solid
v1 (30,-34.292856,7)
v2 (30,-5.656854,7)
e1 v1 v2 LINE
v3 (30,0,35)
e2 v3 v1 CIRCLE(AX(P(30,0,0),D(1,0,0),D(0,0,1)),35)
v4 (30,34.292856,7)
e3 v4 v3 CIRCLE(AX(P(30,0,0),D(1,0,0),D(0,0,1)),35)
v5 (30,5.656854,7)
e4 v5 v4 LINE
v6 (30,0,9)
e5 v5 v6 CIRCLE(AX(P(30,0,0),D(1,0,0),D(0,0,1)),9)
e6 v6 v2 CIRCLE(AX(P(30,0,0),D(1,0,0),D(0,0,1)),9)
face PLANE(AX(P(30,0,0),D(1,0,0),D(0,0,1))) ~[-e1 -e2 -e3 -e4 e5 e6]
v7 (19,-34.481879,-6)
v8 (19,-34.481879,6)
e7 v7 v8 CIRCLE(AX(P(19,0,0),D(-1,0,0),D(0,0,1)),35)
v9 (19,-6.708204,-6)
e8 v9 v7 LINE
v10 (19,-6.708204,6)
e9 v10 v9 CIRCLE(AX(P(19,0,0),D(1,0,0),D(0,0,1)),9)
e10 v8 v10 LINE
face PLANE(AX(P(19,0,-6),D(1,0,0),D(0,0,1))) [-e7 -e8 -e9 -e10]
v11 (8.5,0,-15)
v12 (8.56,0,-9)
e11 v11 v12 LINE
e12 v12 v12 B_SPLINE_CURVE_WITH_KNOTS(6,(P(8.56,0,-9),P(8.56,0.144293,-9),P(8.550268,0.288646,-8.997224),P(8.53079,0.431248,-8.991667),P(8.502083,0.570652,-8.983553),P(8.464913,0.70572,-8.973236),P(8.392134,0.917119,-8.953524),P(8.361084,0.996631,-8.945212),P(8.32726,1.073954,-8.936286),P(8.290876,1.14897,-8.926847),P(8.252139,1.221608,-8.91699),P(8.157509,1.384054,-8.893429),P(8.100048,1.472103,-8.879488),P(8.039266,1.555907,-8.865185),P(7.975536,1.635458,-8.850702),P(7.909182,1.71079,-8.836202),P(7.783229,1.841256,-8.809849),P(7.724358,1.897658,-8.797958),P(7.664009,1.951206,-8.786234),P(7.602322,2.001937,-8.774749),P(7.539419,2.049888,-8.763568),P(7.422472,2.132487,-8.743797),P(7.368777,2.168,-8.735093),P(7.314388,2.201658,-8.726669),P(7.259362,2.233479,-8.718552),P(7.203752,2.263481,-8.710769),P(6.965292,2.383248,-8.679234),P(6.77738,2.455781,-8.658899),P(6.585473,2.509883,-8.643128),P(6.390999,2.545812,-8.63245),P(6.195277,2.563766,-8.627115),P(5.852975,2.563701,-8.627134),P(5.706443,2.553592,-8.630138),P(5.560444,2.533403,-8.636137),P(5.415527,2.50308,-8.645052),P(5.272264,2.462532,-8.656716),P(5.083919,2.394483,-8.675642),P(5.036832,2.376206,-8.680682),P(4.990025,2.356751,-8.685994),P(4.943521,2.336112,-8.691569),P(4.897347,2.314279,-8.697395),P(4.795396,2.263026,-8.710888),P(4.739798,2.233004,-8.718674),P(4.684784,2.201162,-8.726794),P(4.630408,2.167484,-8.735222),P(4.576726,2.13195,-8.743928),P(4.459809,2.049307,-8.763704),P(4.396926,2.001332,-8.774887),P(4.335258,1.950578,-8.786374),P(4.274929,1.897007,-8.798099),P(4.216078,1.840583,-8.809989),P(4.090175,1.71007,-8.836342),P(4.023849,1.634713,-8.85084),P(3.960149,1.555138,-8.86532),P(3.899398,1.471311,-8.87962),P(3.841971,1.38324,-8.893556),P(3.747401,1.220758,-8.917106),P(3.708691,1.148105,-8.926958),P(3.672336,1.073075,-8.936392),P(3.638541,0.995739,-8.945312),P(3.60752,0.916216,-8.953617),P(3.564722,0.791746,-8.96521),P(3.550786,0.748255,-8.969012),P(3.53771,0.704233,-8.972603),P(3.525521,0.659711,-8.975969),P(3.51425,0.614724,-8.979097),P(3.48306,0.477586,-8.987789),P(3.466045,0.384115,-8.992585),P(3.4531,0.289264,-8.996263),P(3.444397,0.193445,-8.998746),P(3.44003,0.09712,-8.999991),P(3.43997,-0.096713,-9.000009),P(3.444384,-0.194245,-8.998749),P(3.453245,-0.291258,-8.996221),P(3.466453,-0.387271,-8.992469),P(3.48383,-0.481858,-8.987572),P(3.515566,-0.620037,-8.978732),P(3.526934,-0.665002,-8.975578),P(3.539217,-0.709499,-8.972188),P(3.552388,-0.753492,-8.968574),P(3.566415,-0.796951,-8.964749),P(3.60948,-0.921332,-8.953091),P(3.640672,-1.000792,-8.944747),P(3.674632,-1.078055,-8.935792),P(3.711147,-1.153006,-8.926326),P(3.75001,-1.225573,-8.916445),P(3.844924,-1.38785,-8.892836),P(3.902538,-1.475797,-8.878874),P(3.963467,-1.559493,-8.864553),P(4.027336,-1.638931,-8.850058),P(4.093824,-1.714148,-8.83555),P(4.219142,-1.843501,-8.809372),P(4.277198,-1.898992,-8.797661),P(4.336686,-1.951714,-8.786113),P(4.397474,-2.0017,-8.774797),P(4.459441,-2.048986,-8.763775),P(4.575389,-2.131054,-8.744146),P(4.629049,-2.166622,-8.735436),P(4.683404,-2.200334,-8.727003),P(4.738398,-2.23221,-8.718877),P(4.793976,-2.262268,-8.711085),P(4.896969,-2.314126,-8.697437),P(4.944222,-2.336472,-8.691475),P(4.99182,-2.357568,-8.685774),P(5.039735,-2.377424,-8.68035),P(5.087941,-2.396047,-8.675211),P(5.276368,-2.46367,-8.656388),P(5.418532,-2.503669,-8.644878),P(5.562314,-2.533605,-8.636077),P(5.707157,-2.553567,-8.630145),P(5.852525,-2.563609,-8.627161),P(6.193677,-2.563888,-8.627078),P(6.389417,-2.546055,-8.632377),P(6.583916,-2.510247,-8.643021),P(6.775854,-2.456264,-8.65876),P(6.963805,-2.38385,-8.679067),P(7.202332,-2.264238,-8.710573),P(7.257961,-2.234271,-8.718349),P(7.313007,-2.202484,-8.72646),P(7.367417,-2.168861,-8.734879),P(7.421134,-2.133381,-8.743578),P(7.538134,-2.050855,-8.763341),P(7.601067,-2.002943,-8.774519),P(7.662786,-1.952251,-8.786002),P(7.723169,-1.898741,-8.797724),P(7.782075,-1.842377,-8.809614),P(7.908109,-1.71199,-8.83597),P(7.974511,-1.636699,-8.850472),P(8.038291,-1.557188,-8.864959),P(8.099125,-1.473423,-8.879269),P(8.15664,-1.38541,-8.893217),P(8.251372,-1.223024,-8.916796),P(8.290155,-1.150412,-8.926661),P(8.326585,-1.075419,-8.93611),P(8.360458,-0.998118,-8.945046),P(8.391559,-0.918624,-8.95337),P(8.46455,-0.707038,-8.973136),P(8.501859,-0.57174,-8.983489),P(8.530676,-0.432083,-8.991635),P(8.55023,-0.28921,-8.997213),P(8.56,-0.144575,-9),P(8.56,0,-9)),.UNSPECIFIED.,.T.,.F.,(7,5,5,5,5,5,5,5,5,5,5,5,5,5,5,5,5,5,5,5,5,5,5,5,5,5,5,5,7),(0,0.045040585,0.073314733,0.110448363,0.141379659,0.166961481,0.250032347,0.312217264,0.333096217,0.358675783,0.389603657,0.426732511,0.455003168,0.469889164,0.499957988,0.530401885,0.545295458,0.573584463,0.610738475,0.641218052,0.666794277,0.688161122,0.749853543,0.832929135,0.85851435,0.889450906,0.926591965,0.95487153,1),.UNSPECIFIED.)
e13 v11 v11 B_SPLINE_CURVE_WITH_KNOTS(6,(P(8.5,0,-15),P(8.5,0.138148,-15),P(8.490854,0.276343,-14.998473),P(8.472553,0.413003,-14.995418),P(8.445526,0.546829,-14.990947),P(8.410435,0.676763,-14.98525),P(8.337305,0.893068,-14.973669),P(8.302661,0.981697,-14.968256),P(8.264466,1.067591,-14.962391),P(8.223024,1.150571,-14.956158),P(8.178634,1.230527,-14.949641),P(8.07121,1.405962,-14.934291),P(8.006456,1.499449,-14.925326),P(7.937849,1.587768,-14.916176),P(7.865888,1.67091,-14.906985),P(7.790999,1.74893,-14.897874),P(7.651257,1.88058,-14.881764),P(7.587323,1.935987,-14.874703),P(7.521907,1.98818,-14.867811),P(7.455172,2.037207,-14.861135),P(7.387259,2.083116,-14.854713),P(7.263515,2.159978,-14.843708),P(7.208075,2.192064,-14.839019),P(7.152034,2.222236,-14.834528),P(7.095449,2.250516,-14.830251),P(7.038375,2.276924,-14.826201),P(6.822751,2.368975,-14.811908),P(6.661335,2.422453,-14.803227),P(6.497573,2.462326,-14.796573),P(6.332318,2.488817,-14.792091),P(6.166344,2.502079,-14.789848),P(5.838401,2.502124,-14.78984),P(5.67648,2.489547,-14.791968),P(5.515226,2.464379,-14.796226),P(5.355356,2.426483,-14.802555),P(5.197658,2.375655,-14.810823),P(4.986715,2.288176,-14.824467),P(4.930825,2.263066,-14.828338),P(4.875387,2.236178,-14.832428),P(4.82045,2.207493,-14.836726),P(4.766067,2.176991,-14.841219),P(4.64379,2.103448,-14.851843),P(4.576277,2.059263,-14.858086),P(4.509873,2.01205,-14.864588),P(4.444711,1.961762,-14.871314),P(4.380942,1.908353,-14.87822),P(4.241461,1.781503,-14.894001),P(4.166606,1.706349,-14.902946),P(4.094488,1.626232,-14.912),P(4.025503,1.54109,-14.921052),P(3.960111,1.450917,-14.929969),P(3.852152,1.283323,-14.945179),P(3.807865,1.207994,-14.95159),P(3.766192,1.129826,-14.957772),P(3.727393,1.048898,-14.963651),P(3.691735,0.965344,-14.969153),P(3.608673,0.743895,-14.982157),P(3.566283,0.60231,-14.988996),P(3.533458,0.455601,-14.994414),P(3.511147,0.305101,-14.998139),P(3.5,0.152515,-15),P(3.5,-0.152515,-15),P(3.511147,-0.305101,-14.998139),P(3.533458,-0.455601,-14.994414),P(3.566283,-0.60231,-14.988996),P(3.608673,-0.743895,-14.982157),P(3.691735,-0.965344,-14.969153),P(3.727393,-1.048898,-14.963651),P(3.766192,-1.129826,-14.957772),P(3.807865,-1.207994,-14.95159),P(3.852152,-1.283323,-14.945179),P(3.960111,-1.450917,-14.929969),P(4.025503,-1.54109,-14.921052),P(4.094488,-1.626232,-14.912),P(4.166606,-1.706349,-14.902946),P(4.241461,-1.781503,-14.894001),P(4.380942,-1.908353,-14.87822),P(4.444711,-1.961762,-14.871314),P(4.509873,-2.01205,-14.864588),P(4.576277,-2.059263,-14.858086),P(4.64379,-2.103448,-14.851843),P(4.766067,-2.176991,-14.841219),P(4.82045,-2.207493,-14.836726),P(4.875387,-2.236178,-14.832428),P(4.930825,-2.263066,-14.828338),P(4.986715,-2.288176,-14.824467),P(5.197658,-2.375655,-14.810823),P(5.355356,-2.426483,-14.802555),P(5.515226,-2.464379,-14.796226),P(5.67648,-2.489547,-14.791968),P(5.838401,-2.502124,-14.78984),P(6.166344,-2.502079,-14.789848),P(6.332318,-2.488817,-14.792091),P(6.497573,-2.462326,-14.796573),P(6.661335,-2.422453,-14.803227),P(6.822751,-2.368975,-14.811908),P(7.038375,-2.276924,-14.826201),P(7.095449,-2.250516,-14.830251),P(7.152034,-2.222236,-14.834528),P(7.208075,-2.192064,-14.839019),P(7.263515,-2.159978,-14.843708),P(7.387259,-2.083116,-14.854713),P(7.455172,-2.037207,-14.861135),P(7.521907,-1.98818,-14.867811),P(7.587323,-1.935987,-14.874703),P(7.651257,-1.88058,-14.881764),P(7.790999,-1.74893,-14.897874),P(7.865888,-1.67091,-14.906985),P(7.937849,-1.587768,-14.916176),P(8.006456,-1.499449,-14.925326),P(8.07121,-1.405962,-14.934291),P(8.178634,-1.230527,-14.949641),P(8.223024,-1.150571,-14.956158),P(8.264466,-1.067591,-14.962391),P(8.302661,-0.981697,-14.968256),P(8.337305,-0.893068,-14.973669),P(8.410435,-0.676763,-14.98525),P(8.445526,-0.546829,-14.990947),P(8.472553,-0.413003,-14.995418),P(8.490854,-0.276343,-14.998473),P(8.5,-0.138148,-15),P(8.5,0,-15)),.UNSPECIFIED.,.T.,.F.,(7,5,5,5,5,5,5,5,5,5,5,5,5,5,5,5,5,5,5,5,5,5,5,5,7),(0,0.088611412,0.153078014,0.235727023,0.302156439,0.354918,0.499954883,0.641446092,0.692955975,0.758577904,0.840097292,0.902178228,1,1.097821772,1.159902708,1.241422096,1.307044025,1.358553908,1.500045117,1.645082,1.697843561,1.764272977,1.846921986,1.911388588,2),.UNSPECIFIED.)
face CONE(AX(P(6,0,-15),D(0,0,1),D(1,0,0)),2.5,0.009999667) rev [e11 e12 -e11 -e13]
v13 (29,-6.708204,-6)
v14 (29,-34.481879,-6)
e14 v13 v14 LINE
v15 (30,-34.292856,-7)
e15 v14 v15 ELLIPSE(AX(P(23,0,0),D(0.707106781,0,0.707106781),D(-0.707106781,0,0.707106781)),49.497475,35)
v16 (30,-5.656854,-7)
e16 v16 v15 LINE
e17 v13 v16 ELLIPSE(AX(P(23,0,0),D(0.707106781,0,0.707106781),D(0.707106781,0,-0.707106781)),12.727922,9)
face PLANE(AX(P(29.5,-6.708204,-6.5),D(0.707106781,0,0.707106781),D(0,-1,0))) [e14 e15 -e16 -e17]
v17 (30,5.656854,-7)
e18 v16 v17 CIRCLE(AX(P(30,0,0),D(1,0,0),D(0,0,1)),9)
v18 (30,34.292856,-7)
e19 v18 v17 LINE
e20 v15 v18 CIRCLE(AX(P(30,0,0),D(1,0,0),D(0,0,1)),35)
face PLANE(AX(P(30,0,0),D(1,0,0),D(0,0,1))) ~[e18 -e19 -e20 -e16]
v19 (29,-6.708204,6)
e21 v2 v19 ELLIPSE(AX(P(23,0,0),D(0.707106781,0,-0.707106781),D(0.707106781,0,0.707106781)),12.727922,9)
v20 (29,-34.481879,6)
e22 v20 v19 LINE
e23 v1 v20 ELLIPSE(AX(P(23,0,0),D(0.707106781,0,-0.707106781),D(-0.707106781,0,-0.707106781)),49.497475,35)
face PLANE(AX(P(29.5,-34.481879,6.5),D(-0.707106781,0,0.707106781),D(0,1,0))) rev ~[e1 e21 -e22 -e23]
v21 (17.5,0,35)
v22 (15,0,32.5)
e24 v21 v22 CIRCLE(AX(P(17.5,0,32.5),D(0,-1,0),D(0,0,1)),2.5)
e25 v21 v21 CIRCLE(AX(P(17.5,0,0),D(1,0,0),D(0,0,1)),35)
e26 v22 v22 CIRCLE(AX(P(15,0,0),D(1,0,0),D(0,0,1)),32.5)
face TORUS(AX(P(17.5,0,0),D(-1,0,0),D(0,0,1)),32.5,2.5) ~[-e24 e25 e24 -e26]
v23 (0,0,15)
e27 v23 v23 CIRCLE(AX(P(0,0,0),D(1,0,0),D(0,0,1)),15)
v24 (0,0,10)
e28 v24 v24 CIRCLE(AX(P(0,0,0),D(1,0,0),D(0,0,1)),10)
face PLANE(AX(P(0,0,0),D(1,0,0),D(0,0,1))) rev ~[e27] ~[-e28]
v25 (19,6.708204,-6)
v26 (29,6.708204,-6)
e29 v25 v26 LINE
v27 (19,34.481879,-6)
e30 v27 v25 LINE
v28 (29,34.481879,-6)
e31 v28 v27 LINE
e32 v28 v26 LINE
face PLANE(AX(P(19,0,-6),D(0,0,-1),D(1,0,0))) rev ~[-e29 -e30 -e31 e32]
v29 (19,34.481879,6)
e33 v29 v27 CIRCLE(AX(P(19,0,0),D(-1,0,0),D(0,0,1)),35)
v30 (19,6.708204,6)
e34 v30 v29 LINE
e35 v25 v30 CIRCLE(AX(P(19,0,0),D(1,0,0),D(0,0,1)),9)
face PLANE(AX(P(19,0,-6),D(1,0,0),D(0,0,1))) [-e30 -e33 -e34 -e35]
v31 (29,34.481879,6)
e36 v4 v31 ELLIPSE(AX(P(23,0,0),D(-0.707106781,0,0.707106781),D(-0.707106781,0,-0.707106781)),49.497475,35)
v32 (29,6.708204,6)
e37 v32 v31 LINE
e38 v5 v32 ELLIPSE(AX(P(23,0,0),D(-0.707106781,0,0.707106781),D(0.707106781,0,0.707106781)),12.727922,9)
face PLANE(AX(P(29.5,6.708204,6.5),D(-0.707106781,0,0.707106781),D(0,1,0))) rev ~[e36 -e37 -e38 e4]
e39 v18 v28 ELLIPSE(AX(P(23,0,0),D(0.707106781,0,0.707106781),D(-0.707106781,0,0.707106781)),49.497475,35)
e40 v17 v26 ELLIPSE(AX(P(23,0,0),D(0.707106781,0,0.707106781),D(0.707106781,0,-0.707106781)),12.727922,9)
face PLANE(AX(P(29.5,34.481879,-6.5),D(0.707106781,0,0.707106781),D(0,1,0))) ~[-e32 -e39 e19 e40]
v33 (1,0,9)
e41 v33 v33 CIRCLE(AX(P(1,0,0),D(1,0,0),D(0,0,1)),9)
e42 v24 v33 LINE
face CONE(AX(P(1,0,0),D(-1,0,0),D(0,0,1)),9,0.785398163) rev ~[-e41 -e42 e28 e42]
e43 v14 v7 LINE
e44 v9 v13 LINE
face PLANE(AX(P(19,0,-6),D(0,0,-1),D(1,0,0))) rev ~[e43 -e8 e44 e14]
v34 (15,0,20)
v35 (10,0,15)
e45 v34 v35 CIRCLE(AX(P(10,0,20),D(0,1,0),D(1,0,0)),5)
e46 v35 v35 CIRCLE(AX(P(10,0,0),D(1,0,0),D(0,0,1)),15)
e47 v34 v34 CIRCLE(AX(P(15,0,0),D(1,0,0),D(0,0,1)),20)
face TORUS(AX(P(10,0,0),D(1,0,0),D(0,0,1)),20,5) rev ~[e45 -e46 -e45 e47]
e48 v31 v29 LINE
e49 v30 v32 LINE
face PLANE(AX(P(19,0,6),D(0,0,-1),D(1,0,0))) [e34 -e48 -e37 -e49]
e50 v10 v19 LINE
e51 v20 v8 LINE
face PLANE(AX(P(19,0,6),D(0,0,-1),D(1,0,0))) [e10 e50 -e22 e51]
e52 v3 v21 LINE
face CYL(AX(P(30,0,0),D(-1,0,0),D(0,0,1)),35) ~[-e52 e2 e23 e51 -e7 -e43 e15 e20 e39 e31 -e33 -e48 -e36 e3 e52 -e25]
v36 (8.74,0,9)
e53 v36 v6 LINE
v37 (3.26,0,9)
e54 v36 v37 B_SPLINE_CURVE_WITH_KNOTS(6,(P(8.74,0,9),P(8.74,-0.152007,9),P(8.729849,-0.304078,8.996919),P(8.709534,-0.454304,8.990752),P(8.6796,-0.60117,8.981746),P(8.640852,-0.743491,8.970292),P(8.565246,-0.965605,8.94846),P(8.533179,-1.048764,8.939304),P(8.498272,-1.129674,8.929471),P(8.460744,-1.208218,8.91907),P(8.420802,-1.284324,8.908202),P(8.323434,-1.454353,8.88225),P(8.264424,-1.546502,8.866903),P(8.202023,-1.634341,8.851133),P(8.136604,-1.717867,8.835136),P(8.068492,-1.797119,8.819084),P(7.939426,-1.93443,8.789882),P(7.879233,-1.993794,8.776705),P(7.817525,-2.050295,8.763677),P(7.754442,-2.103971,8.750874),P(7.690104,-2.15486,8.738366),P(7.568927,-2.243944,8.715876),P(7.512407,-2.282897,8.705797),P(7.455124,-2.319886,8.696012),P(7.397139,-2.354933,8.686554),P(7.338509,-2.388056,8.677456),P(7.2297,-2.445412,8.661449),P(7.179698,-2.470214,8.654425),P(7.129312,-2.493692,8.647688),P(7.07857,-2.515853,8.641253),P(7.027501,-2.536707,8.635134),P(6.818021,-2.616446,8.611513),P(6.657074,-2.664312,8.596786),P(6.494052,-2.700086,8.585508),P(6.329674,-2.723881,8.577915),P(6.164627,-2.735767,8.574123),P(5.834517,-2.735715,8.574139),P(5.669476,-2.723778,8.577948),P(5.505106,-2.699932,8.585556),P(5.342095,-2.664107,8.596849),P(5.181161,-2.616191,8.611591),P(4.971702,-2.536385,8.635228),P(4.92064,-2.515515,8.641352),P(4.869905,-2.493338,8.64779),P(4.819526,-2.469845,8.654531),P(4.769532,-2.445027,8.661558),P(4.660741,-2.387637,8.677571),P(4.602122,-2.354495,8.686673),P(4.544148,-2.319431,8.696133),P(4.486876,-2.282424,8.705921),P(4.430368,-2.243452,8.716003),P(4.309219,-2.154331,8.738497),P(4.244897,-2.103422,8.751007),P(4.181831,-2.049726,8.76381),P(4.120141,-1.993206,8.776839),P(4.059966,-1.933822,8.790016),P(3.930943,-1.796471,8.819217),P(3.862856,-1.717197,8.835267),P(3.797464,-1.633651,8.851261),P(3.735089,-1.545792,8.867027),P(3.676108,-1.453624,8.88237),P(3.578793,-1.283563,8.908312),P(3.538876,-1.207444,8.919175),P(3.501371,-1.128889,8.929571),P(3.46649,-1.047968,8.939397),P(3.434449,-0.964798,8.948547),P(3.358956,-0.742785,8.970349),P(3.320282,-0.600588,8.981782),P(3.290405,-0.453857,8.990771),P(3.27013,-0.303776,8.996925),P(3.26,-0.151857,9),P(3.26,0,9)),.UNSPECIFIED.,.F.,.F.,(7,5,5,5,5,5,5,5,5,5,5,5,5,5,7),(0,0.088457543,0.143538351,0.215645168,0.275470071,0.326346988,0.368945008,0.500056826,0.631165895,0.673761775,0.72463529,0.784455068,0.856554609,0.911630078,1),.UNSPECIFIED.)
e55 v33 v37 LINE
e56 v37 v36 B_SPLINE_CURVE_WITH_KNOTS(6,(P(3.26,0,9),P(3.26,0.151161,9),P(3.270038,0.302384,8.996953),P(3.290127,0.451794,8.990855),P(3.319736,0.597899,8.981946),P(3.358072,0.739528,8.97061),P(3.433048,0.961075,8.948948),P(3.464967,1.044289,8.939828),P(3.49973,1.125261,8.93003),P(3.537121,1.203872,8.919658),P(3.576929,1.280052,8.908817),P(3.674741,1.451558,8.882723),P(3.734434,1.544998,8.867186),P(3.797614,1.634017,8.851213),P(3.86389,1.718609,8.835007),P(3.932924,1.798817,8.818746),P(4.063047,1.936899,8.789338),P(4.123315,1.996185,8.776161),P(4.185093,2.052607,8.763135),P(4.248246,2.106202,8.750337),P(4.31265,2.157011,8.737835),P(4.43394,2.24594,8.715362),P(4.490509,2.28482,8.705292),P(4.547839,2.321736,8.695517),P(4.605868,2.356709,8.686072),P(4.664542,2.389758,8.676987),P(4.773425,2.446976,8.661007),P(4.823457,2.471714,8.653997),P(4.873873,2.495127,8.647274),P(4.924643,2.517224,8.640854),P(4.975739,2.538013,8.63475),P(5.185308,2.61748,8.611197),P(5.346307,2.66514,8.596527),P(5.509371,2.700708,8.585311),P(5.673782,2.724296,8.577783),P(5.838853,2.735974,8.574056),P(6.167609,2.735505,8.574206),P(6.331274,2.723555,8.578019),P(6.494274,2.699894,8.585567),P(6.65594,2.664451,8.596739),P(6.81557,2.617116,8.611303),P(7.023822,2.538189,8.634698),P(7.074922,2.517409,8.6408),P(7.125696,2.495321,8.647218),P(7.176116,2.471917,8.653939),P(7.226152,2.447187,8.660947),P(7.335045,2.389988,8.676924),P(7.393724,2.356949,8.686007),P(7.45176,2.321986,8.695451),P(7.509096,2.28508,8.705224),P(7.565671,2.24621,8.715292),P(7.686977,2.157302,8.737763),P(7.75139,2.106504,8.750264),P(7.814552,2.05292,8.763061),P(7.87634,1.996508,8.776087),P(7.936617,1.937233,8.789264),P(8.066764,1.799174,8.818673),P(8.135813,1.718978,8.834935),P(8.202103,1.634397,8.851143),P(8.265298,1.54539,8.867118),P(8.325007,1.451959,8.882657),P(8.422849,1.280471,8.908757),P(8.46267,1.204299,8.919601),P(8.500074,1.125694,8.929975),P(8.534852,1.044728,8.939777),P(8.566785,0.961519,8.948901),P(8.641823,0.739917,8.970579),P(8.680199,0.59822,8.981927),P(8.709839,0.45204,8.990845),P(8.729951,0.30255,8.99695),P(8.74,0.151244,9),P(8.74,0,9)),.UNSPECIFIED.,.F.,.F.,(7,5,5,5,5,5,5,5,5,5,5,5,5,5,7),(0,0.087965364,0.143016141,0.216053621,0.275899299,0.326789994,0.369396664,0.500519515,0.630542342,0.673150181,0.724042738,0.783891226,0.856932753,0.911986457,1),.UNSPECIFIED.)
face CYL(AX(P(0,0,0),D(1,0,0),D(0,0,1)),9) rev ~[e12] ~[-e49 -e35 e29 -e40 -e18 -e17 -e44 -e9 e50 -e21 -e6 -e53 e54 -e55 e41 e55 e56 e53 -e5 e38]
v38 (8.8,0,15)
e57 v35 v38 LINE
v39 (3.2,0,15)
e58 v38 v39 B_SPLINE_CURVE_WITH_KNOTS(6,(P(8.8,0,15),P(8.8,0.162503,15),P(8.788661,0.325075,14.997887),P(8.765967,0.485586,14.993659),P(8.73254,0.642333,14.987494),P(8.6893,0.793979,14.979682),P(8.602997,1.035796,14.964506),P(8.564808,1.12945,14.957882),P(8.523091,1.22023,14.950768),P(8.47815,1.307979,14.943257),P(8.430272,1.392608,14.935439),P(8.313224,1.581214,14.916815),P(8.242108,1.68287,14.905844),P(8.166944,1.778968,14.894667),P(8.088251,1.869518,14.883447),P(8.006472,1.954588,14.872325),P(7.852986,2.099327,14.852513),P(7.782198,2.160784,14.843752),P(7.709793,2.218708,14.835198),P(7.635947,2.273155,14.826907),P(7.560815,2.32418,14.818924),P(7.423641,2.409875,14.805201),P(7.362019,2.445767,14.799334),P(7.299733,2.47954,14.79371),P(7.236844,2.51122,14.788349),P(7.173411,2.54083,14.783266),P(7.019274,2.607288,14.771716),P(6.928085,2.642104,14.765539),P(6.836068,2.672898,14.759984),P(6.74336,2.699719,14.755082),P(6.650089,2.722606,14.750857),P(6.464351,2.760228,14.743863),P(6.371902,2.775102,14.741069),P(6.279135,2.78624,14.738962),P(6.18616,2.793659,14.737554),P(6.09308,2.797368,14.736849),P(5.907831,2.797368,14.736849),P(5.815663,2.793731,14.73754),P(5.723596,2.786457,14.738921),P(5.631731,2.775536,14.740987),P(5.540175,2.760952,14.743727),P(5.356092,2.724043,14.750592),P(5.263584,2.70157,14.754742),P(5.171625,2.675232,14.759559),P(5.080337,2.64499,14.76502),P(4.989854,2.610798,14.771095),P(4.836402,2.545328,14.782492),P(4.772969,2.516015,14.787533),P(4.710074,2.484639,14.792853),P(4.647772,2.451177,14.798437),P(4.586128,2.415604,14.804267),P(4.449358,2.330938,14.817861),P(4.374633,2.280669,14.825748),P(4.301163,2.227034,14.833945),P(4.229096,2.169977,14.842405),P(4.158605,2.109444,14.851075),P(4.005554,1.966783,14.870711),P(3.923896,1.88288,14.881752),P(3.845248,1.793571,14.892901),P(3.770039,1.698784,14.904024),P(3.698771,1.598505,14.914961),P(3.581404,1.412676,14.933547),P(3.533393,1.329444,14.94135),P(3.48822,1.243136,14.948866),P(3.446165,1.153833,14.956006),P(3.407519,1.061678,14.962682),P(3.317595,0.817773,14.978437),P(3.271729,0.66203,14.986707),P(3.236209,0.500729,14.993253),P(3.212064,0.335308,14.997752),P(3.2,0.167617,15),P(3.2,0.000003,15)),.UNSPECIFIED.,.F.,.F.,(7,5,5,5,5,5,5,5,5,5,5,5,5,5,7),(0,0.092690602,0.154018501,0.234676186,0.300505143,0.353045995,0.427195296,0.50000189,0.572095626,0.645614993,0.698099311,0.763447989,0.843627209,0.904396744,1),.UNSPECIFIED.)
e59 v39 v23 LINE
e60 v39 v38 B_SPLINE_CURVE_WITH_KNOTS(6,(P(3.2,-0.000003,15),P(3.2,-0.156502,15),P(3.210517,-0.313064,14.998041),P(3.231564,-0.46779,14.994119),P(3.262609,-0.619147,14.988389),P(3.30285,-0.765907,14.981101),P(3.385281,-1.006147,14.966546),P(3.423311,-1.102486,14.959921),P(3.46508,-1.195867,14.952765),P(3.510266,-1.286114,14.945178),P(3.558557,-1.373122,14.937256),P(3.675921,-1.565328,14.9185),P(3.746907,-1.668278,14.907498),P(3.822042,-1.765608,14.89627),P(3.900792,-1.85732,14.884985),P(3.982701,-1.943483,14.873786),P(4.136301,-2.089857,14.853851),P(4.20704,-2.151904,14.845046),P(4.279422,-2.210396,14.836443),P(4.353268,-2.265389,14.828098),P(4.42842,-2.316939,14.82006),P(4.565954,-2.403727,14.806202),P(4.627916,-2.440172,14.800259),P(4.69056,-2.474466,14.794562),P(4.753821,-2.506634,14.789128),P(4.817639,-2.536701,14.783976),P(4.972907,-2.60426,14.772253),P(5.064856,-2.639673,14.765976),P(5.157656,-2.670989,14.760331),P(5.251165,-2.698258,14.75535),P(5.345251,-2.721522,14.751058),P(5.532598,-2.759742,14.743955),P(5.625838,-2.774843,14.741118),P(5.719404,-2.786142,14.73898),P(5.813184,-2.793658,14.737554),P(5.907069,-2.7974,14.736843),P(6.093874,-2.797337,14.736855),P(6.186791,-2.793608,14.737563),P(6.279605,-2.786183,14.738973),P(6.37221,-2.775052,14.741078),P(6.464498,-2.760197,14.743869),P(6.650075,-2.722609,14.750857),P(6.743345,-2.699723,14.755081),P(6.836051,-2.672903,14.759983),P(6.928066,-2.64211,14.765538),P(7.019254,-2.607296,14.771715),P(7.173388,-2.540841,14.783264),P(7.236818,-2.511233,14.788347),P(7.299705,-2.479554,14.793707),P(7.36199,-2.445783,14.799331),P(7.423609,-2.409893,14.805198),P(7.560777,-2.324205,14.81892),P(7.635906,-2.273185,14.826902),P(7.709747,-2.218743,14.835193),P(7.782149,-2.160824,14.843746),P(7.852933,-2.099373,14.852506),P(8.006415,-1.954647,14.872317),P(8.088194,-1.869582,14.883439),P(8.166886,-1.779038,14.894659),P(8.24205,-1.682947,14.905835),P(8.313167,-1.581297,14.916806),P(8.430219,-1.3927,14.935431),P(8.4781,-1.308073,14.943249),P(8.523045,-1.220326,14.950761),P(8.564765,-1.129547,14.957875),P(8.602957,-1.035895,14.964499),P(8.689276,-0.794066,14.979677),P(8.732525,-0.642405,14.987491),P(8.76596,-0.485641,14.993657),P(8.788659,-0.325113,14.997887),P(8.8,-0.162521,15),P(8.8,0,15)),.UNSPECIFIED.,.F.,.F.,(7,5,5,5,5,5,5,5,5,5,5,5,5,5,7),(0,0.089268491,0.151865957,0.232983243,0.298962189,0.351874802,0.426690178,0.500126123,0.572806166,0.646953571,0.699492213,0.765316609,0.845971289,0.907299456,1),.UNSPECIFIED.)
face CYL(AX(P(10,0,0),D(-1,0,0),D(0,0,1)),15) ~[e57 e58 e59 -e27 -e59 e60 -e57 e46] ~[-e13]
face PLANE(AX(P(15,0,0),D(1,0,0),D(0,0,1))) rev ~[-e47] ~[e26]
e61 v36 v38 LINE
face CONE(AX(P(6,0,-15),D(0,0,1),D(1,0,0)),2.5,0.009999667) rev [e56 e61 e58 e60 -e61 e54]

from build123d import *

# Parameters (mm, degrees)
F2_W     = 11
F2_H     = 12
F3_DEPTH = 40
F4_SIZE  = 1
F5_W     = 2.5
F5_H     = 0.6369768083
F5_W_2   = 2.8
F5_H_2   = 0.9896519035


with BuildPart() as f1:
    # F0 (on Front) → F1 (revolve)
    with BuildSketch(Plane.XZ):
        with BuildLine():
            Line((0, 15), (0, 9))
            Line((0, 9), (30, 9))
            Line((30, 9), (30, 35))
            Line((30, 35), (17.5, 35))
            ThreePointArc((17.5, 35), (15.732233047, 34.267766953), (15, 32.5))
            Line((15, 32.5), (15, 20))
            ThreePointArc((15, 20), (13.5355339059, 16.4644660941), (10, 15))
            Line((10, 15), (0, 15))
        make_face()
    revolve(axis=Axis((13.2997054259, 0, 0), (1, 0, 0)))

    # F2 (on Front) → F3 (cut, symmetric)
    with BuildSketch(Plane.XZ):
        with Locations((24.5, 0)):
            Rectangle(F2_W, F2_H)
    extrude(amount=F3_DEPTH, both=True, mode=Mode.SUBTRACT)

    # F4
    f4_edges = [f1.edges().sort_by_distance(p)[0] for p in [
        (0, 0, -9),
        (30, 20.595042, 6),
        (30, -20.595042, 6),
        (30, -20.595042, -6),
        (30, 20.595042, -6),
    ]]
    chamfer(f4_edges, length=F4_SIZE)

    # F5 (on Front) → F6 (revolve, cut)
    with BuildSketch(Plane.XZ):
        with Locations((7.25, -15.3184884042)):
            Rectangle(F5_W, F5_H)
        Polygon((6, -15), (8.5, -15), (8.8, 15), (6, 15), align=None)
        with Locations((7.4, 15.4948259518)):
            Rectangle(F5_W_2, F5_H_2)
    revolve(axis=Axis((6, 0, -0.3860071301), (0, 0, -1)), mode=Mode.SUBTRACT)


solid = f1.part
